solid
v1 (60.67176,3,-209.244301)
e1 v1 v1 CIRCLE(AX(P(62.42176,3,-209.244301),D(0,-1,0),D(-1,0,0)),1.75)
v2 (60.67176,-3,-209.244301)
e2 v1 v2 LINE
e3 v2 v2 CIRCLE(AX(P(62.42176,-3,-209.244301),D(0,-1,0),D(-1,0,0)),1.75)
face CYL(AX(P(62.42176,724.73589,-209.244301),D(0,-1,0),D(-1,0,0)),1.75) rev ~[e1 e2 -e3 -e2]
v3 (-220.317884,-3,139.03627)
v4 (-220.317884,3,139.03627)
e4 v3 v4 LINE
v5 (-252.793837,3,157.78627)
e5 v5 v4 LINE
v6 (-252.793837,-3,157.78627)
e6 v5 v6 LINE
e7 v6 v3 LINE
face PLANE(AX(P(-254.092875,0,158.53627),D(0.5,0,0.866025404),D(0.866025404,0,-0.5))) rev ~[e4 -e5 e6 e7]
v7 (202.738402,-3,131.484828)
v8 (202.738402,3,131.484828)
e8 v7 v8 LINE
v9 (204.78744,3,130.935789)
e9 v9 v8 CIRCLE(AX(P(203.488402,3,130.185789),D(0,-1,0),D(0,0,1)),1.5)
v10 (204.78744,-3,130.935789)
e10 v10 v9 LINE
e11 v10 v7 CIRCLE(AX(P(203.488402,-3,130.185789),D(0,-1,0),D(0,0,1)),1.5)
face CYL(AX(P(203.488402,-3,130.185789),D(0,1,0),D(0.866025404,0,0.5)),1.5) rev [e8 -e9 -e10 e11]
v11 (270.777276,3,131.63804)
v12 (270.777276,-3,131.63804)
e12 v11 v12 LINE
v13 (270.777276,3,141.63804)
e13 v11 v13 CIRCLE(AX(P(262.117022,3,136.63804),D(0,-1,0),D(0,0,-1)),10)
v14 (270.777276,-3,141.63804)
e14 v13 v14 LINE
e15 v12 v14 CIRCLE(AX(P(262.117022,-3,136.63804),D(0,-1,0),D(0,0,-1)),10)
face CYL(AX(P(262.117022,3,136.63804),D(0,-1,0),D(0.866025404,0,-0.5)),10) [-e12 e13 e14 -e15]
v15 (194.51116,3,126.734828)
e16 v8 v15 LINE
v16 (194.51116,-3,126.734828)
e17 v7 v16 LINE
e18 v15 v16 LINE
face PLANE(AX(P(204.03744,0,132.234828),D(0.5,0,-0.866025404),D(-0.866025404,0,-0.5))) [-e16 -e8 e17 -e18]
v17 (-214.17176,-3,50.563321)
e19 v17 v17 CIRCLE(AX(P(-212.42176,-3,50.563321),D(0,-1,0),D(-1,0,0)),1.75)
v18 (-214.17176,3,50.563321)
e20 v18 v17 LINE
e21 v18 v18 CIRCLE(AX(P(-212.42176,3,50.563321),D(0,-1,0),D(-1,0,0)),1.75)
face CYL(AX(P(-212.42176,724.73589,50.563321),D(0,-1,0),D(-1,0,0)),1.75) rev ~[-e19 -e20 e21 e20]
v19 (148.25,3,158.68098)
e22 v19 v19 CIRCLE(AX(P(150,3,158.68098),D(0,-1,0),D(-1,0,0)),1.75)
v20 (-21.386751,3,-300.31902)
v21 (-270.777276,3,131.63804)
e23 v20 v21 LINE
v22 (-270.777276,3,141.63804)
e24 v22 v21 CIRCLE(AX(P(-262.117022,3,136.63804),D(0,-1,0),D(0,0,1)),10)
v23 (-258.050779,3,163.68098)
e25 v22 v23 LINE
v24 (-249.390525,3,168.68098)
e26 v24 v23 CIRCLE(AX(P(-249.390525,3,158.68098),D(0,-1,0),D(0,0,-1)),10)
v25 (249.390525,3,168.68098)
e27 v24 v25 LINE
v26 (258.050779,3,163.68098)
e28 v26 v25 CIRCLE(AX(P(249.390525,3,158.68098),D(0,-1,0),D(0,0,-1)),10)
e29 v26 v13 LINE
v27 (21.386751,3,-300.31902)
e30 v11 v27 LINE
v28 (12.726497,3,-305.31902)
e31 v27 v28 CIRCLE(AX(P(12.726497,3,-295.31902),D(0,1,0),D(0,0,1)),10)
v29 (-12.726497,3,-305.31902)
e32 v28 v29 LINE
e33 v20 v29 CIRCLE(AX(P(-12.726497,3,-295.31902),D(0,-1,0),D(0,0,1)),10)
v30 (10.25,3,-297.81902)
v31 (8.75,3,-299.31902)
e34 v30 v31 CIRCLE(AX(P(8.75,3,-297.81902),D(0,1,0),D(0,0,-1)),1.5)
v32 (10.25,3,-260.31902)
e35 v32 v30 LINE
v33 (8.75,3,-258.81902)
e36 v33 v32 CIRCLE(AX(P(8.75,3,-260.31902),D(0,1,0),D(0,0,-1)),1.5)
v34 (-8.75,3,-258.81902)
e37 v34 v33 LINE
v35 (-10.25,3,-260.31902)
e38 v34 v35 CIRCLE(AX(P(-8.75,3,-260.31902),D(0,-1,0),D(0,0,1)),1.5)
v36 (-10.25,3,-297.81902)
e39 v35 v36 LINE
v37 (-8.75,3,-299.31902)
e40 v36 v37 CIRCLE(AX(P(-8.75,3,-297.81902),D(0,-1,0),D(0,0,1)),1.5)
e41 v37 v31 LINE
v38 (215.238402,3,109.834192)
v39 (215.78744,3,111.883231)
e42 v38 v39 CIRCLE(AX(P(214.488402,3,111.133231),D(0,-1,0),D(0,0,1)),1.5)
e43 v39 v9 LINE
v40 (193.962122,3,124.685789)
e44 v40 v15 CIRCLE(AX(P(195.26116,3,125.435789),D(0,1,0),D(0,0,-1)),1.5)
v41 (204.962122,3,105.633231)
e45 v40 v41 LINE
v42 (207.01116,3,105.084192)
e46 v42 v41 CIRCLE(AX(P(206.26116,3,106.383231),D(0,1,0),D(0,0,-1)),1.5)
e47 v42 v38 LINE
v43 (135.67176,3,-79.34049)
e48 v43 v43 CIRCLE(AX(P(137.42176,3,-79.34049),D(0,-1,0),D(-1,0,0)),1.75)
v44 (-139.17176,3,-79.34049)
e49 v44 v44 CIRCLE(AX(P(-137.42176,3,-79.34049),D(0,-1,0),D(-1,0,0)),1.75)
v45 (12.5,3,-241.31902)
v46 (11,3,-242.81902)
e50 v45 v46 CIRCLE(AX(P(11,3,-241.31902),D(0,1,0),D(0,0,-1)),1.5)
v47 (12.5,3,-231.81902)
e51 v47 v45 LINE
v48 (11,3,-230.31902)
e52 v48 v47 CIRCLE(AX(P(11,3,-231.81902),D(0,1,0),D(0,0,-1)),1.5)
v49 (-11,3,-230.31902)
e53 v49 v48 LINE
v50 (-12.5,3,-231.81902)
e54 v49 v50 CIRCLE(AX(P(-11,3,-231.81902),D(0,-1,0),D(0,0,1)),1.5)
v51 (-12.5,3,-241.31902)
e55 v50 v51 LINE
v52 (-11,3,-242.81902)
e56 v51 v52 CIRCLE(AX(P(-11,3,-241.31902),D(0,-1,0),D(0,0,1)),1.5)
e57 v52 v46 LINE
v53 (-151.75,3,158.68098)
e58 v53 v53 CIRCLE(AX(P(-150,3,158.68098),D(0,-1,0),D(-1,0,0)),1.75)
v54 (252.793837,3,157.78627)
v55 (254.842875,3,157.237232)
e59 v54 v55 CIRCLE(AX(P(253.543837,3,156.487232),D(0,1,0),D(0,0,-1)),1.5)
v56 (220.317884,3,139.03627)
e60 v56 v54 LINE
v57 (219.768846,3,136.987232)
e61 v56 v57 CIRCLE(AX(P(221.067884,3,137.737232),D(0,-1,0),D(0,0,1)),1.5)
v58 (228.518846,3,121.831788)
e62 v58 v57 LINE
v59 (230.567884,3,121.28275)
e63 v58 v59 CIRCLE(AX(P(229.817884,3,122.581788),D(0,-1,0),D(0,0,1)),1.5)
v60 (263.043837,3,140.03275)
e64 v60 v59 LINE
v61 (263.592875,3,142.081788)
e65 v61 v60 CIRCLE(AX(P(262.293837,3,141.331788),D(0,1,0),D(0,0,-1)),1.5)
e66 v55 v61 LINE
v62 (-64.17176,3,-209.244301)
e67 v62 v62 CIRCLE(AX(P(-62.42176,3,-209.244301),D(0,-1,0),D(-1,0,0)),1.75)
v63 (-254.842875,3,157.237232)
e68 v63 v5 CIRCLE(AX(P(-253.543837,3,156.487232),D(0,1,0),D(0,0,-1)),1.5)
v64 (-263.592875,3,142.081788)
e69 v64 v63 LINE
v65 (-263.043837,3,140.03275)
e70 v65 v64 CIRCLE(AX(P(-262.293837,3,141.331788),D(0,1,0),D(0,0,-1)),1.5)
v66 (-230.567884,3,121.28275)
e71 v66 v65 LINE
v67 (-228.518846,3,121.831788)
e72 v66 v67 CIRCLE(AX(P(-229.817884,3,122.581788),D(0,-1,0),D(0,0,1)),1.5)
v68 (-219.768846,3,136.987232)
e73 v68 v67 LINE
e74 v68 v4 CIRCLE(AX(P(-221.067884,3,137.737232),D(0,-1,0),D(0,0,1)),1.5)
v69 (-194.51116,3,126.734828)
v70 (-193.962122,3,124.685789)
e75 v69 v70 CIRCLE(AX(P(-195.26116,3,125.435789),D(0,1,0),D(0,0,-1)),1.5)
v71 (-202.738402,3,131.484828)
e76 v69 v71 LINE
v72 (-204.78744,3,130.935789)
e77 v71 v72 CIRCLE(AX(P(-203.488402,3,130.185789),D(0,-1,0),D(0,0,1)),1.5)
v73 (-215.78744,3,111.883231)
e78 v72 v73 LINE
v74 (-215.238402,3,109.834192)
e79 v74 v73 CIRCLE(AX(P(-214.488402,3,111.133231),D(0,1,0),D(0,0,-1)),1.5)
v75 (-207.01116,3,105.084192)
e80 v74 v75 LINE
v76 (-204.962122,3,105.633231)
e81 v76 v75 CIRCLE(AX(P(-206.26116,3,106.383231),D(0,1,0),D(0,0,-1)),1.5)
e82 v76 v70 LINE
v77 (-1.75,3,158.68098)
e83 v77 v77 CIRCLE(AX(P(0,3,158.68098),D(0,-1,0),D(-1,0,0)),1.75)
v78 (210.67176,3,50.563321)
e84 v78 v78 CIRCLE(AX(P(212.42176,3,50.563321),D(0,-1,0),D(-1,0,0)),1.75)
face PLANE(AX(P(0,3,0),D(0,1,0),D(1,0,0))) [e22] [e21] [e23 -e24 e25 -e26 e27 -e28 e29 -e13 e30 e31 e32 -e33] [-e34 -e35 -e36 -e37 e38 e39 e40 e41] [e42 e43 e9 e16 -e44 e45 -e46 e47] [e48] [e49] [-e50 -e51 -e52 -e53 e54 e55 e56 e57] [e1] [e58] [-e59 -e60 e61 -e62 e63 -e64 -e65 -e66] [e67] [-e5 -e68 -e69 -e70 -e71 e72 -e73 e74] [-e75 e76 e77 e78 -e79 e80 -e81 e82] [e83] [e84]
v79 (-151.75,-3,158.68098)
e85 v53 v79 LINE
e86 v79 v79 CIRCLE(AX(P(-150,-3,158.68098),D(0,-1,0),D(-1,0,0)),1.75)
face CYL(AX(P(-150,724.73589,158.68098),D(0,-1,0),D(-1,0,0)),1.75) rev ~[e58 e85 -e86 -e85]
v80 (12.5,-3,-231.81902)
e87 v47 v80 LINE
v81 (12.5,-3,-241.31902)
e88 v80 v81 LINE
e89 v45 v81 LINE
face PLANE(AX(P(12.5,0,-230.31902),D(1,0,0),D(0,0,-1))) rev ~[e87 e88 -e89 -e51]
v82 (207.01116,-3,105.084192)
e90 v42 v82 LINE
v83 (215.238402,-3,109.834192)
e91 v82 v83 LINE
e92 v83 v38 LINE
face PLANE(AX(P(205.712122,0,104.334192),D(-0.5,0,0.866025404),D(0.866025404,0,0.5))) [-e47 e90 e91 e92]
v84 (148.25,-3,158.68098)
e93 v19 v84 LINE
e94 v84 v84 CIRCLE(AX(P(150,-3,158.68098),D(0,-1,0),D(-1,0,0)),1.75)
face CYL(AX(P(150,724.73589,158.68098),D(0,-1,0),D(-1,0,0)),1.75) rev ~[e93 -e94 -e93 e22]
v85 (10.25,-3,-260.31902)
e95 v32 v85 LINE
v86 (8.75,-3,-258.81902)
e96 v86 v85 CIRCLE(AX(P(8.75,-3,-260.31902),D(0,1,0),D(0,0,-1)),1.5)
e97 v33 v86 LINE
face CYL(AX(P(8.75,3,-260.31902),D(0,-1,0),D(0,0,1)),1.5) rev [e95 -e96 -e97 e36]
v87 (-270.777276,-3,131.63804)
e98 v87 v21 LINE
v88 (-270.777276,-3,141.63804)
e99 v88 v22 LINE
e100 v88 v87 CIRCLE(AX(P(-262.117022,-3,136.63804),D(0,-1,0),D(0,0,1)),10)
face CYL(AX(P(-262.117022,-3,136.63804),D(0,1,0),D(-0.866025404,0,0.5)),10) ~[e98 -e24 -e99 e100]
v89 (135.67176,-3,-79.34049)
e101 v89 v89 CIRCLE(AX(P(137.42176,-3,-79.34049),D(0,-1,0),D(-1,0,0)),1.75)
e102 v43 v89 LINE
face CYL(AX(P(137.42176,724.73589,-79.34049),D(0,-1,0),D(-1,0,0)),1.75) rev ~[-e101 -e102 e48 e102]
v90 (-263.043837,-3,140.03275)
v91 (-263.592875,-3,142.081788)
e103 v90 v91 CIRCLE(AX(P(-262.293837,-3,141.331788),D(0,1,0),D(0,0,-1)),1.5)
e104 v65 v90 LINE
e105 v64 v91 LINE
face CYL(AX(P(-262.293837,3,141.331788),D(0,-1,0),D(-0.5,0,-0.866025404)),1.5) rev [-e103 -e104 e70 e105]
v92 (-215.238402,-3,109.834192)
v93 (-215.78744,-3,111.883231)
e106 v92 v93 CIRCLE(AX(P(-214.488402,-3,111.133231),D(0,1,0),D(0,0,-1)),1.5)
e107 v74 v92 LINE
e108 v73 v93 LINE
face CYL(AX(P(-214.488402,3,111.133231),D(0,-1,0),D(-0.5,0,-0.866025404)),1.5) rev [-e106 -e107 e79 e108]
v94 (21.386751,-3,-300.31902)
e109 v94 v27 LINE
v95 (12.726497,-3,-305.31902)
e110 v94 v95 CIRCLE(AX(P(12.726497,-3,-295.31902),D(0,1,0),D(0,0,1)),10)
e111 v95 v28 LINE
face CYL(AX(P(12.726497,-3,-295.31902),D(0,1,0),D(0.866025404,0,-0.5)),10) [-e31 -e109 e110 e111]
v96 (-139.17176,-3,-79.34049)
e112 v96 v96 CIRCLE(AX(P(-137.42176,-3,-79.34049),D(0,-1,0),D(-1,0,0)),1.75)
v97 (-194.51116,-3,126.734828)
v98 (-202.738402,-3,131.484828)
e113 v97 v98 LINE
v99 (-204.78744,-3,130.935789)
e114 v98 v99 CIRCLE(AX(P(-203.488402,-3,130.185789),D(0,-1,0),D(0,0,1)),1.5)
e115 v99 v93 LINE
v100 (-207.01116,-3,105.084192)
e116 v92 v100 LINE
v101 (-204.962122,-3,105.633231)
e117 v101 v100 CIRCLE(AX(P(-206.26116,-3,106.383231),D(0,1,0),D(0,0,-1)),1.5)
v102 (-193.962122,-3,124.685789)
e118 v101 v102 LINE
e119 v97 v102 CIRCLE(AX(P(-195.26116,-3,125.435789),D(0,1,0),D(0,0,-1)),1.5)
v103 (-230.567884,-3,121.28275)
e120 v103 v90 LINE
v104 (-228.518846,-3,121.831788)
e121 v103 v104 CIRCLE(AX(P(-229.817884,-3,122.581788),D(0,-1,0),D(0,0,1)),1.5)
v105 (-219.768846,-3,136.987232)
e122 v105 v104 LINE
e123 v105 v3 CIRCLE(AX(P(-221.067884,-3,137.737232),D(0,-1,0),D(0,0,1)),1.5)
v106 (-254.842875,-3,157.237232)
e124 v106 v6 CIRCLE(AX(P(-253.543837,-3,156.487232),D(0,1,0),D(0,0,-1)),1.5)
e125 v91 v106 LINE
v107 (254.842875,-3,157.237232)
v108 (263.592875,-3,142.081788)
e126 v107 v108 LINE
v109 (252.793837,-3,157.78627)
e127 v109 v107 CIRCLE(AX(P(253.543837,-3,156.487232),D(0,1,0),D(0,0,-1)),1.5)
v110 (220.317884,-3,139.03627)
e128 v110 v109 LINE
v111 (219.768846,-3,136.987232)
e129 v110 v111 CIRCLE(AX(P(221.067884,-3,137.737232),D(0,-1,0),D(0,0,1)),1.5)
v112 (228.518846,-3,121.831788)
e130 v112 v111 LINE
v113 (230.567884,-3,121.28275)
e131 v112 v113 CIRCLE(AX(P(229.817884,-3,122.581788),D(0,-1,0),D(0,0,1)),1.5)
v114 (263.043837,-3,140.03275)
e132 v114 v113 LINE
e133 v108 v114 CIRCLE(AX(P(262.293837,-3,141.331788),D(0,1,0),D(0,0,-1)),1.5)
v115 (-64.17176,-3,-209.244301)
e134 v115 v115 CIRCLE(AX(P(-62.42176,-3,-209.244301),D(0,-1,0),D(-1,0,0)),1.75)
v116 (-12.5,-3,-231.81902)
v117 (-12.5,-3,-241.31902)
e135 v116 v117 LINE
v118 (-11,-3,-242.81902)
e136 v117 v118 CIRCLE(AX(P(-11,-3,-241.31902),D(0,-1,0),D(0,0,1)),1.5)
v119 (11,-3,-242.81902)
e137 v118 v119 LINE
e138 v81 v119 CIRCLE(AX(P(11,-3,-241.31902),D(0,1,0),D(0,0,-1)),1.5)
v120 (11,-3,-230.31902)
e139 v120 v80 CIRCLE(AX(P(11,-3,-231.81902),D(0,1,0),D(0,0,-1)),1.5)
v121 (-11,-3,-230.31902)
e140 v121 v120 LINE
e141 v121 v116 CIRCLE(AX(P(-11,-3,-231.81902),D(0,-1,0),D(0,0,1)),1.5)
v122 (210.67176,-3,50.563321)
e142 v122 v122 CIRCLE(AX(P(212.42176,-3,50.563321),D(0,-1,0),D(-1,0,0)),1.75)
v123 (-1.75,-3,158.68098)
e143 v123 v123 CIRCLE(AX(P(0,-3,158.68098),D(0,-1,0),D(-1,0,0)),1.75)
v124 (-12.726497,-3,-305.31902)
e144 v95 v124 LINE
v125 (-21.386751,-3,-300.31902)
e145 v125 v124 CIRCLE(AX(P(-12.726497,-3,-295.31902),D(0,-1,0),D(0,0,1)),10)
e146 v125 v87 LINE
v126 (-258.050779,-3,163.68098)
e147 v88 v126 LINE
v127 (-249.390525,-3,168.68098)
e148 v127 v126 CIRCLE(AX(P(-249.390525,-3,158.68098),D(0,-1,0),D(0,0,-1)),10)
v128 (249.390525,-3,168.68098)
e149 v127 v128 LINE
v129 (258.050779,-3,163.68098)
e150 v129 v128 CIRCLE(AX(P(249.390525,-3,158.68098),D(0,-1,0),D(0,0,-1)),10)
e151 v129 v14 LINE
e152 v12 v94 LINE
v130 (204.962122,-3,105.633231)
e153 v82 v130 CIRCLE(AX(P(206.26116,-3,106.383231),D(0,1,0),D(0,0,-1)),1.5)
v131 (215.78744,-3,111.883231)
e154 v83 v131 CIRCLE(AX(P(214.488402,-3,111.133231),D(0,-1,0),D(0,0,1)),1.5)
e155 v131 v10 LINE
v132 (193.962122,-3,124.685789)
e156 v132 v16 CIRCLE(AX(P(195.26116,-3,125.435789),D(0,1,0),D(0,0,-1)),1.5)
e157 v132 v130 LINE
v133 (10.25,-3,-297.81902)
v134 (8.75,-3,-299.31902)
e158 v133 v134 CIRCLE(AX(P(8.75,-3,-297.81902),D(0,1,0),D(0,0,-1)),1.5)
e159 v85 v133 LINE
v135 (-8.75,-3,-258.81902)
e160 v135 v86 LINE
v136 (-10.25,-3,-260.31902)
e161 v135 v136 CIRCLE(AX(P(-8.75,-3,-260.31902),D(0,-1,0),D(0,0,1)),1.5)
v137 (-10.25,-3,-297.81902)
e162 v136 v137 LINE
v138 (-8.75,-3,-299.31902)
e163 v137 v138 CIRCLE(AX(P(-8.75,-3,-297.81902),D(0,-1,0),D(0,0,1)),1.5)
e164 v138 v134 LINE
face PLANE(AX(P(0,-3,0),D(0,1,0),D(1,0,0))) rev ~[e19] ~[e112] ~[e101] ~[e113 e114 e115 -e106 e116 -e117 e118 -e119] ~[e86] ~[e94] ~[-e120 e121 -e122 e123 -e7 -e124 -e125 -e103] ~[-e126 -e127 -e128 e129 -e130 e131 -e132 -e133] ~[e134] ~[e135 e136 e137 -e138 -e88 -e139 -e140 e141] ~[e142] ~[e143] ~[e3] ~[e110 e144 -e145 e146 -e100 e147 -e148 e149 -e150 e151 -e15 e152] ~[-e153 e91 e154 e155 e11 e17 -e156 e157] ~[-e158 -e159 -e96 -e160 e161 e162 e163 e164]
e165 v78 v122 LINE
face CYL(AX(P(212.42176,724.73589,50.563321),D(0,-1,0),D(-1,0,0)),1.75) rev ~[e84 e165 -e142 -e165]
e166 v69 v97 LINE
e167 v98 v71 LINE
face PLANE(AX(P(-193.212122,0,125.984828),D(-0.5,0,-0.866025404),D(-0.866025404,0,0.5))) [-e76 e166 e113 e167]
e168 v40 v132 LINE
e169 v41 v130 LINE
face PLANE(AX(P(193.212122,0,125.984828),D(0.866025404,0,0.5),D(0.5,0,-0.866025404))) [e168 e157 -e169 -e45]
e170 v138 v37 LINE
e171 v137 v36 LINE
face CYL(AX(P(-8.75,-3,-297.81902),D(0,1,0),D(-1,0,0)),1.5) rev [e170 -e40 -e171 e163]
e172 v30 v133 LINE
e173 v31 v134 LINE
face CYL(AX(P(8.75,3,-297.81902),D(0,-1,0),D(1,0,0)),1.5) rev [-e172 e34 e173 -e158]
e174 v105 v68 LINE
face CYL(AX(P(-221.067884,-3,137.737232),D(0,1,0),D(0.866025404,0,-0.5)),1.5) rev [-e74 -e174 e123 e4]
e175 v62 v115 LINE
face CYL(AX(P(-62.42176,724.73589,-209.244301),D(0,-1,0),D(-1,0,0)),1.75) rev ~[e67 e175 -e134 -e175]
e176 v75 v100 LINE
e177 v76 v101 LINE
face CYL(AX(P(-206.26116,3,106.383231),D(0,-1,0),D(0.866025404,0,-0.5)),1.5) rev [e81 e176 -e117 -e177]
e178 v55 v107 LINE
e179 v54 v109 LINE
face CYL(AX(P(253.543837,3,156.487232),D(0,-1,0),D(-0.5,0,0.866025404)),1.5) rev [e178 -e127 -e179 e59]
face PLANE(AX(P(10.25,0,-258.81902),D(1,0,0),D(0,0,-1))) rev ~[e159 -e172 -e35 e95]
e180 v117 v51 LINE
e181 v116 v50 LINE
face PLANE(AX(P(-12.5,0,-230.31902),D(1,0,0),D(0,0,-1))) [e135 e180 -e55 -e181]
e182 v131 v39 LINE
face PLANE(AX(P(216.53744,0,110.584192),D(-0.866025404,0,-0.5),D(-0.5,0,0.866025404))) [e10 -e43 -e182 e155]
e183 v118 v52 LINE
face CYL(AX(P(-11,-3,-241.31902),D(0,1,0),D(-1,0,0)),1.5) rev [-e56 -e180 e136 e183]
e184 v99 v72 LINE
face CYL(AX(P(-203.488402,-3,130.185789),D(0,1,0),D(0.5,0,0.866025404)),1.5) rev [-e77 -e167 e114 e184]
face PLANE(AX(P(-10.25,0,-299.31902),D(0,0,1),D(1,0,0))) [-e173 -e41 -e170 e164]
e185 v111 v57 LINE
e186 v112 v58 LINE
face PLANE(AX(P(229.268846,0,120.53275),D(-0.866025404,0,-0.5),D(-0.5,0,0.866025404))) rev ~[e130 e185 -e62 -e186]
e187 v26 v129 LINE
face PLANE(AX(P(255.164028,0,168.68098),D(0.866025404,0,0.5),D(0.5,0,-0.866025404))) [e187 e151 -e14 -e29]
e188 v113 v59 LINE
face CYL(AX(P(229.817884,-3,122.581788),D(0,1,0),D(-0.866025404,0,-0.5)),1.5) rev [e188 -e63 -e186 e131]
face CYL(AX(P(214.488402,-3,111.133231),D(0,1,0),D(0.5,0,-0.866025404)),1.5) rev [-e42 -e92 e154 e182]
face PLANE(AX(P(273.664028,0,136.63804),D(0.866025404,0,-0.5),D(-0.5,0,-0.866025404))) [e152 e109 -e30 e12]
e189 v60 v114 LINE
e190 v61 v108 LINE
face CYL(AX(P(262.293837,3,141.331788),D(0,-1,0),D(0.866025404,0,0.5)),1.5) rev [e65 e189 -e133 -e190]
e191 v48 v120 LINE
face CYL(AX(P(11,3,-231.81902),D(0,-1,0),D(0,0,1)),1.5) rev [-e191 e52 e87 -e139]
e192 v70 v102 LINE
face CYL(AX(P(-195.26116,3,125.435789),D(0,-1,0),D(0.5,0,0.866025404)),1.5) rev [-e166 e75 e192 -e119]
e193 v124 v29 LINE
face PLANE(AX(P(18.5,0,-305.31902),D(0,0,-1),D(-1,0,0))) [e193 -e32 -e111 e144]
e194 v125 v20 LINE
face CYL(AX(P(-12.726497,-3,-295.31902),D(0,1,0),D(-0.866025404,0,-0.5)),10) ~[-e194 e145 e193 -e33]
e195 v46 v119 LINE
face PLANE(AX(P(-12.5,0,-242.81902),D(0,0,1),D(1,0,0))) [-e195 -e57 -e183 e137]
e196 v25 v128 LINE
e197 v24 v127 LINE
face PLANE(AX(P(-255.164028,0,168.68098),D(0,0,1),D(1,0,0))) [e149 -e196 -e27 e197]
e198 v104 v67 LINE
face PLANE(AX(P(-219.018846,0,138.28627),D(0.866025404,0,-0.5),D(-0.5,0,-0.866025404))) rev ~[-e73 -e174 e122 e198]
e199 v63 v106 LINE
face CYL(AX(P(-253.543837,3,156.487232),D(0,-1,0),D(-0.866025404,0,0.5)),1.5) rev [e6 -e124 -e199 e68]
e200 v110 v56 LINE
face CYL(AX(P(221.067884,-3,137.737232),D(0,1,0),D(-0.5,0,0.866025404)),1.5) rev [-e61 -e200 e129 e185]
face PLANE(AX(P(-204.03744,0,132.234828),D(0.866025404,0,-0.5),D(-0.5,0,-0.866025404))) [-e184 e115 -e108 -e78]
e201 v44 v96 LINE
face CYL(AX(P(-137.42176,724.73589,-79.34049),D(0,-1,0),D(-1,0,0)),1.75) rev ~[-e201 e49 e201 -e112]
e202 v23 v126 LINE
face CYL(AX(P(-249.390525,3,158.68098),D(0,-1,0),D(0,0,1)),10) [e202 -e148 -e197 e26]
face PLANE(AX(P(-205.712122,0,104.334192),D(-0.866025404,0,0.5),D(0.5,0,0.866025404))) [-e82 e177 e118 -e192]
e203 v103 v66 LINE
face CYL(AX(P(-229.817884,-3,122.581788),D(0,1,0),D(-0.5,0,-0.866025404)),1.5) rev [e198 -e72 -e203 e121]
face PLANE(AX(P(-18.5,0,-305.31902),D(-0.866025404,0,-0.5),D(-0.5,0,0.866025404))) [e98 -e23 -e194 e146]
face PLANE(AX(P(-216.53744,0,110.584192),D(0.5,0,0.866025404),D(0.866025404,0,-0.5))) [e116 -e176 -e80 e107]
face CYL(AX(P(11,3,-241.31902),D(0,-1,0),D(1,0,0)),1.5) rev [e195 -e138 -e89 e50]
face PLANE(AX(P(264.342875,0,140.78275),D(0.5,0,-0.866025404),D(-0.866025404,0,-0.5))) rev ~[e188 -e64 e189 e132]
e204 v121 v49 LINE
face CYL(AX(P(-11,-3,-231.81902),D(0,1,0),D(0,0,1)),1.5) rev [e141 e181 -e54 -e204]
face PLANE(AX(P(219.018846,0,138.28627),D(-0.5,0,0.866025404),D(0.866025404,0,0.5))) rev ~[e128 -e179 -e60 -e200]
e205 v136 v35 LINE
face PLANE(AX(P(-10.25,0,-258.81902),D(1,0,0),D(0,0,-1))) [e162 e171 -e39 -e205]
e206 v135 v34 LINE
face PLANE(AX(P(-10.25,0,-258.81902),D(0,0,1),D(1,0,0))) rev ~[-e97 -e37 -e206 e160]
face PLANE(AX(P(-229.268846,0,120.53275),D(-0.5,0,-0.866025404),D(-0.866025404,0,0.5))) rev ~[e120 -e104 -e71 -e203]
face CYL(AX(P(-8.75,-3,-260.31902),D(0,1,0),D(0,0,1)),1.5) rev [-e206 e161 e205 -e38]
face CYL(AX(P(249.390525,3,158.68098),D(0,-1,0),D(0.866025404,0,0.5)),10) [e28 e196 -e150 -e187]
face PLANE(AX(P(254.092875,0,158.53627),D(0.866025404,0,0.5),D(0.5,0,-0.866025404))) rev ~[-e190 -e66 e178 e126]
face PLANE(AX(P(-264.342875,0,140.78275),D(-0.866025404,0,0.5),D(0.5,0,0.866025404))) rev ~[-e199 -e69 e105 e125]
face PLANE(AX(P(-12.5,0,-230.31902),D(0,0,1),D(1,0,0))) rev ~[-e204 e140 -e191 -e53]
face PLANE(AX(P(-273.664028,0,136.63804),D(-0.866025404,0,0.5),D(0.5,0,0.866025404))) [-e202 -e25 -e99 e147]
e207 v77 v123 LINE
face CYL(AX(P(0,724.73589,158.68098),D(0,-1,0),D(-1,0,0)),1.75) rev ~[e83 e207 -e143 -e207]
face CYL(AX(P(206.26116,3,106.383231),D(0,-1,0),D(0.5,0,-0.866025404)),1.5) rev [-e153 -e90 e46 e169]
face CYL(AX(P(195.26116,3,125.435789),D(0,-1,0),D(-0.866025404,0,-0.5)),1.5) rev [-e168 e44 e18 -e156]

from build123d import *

# Parameters (mm, degrees)
SKETCH_1_W         = 20.5
SKETCH_1_H         = 40.5
SKETCH_1_W_2       = 25
SKETCH_1_H_2       = 12.5
EXTRUDE_1388_DEPTH = 3
FILLET_1_R         = 10
FILLET_2_R         = 1.5
HOLE_WIZARD_3_5_D  = 3.5


with BuildPart() as part:
    # Эскиз1 → Extrude 1388 (new, symmetric)
    with BuildSketch(Plane(origin=(0, 0, 0), x_dir=(1, 0, 0), z_dir=(0, 1, 0))):
        Polygon((273.664027596, -136.63804004), (18.5, 305.31902002), (-18.5, 305.31902002), (-273.664027596, -136.63804004), (-255.164027596, -168.68097998), (255.164027596, -168.68097998), align=None)
        Polygon((219.01884632, -138.286270399), (254.092875173, -158.536270399), (264.342875173, -140.782749621), (229.26884632, -120.532749621), align=None, mode=Mode.SUBTRACT)
        with Locations((0, 279.06902002)):
            Rectangle(SKETCH_1_W, SKETCH_1_H, mode=Mode.SUBTRACT)
        Polygon((-229.26884632, -120.532749621), (-264.342875173, -140.782749621), (-254.092875173, -158.536270399), (-219.01884632, -138.286270399), align=None, mode=Mode.SUBTRACT)
        Polygon((216.537439859, -110.584192463), (204.037439859, -132.234827557), (193.212122312, -125.984827557), (205.712122312, -104.334192463), align=None, mode=Mode.SUBTRACT)
        with Locations((0, 236.56902002)):
            Rectangle(SKETCH_1_W_2, SKETCH_1_H_2, mode=Mode.SUBTRACT)
        Polygon((-204.037439859, -132.234827557), (-216.537439859, -110.584192463), (-205.712122312, -104.334192463), (-193.212122312, -125.984827557), align=None, mode=Mode.SUBTRACT)
    extrude(amount=EXTRUDE_1388_DEPTH, both=True)

    # Скругление1
    fillet_1_edges = [part.edges().sort_by_distance(p)[0] for p in [
        (255.164027596, 0, 168.68097998),
        (-255.164027596, 0, 168.68097998),
        (-273.664027596, 0, 136.63804004),
        (-18.5, 0, -305.31902002),
        (18.5, 0, -305.31902002),
        (273.664027596, 0, 136.63804004),
    ]]
    fillet(fillet_1_edges, radius=FILLET_1_R)

    # Скругление2
    fillet_2_edges = [part.edges().sort_by_distance(p)[0] for p in [
        (10.25, 0, -258.81902002),
        (10.25, 0, -299.31902002),
        (-10.25, 0, -299.31902002),
        (-10.25, 0, -258.81902002),
        (12.5, 0, -230.31902002),
        (12.5, 0, -242.81902002),
        (-12.5, 0, -242.81902002),
        (-12.5, 0, -230.31902002),
        (229.26884632, 0, 120.532749621),
        (219.01884632, 0, 138.286270399),
        (254.092875173, 0, 158.536270399),
        (264.342875173, 0, 140.782749621),
        (-219.01884632, 0, 138.286270399),
        (-229.26884632, 0, 120.532749621),
        (-264.342875173, 0, 140.782749621),
        (-254.092875173, 0, 158.536270399),
        (193.212122312, 0, 125.984827557),
        (204.037439859, 0, 132.234827557),
        (216.537439859, 0, 110.584192463),
        (205.712122312, 0, 104.334192463),
        (-205.712122312, 0, 104.334192463),
        (-216.537439859, 0, 110.584192463),
        (-204.037439859, 0, 132.234827557),
        (-193.212122312, 0, 125.984827557),
    ]]
    fillet(fillet_2_edges, radius=FILLET_2_R)

    # Отверстия 3,5мм (through all)
    with Locations(Plane(origin=(0, 3, 0), x_dir=(1, 0, 0), z_dir=(0, 1, 0))):
        with Locations((-137.42175976, 79.34048999), (-62.42175976, 209.244300558), (62.42175976, 209.244300558), (137.42175976, 79.34048999), (212.42175976, -50.563320578), (150, -158.68097998), (0, -158.68097998), (-150, -158.68097998), (-212.42175976, -50.563320578)):
            Hole(HOLE_WIZARD_3_5_D / 2)


solid = part.part
